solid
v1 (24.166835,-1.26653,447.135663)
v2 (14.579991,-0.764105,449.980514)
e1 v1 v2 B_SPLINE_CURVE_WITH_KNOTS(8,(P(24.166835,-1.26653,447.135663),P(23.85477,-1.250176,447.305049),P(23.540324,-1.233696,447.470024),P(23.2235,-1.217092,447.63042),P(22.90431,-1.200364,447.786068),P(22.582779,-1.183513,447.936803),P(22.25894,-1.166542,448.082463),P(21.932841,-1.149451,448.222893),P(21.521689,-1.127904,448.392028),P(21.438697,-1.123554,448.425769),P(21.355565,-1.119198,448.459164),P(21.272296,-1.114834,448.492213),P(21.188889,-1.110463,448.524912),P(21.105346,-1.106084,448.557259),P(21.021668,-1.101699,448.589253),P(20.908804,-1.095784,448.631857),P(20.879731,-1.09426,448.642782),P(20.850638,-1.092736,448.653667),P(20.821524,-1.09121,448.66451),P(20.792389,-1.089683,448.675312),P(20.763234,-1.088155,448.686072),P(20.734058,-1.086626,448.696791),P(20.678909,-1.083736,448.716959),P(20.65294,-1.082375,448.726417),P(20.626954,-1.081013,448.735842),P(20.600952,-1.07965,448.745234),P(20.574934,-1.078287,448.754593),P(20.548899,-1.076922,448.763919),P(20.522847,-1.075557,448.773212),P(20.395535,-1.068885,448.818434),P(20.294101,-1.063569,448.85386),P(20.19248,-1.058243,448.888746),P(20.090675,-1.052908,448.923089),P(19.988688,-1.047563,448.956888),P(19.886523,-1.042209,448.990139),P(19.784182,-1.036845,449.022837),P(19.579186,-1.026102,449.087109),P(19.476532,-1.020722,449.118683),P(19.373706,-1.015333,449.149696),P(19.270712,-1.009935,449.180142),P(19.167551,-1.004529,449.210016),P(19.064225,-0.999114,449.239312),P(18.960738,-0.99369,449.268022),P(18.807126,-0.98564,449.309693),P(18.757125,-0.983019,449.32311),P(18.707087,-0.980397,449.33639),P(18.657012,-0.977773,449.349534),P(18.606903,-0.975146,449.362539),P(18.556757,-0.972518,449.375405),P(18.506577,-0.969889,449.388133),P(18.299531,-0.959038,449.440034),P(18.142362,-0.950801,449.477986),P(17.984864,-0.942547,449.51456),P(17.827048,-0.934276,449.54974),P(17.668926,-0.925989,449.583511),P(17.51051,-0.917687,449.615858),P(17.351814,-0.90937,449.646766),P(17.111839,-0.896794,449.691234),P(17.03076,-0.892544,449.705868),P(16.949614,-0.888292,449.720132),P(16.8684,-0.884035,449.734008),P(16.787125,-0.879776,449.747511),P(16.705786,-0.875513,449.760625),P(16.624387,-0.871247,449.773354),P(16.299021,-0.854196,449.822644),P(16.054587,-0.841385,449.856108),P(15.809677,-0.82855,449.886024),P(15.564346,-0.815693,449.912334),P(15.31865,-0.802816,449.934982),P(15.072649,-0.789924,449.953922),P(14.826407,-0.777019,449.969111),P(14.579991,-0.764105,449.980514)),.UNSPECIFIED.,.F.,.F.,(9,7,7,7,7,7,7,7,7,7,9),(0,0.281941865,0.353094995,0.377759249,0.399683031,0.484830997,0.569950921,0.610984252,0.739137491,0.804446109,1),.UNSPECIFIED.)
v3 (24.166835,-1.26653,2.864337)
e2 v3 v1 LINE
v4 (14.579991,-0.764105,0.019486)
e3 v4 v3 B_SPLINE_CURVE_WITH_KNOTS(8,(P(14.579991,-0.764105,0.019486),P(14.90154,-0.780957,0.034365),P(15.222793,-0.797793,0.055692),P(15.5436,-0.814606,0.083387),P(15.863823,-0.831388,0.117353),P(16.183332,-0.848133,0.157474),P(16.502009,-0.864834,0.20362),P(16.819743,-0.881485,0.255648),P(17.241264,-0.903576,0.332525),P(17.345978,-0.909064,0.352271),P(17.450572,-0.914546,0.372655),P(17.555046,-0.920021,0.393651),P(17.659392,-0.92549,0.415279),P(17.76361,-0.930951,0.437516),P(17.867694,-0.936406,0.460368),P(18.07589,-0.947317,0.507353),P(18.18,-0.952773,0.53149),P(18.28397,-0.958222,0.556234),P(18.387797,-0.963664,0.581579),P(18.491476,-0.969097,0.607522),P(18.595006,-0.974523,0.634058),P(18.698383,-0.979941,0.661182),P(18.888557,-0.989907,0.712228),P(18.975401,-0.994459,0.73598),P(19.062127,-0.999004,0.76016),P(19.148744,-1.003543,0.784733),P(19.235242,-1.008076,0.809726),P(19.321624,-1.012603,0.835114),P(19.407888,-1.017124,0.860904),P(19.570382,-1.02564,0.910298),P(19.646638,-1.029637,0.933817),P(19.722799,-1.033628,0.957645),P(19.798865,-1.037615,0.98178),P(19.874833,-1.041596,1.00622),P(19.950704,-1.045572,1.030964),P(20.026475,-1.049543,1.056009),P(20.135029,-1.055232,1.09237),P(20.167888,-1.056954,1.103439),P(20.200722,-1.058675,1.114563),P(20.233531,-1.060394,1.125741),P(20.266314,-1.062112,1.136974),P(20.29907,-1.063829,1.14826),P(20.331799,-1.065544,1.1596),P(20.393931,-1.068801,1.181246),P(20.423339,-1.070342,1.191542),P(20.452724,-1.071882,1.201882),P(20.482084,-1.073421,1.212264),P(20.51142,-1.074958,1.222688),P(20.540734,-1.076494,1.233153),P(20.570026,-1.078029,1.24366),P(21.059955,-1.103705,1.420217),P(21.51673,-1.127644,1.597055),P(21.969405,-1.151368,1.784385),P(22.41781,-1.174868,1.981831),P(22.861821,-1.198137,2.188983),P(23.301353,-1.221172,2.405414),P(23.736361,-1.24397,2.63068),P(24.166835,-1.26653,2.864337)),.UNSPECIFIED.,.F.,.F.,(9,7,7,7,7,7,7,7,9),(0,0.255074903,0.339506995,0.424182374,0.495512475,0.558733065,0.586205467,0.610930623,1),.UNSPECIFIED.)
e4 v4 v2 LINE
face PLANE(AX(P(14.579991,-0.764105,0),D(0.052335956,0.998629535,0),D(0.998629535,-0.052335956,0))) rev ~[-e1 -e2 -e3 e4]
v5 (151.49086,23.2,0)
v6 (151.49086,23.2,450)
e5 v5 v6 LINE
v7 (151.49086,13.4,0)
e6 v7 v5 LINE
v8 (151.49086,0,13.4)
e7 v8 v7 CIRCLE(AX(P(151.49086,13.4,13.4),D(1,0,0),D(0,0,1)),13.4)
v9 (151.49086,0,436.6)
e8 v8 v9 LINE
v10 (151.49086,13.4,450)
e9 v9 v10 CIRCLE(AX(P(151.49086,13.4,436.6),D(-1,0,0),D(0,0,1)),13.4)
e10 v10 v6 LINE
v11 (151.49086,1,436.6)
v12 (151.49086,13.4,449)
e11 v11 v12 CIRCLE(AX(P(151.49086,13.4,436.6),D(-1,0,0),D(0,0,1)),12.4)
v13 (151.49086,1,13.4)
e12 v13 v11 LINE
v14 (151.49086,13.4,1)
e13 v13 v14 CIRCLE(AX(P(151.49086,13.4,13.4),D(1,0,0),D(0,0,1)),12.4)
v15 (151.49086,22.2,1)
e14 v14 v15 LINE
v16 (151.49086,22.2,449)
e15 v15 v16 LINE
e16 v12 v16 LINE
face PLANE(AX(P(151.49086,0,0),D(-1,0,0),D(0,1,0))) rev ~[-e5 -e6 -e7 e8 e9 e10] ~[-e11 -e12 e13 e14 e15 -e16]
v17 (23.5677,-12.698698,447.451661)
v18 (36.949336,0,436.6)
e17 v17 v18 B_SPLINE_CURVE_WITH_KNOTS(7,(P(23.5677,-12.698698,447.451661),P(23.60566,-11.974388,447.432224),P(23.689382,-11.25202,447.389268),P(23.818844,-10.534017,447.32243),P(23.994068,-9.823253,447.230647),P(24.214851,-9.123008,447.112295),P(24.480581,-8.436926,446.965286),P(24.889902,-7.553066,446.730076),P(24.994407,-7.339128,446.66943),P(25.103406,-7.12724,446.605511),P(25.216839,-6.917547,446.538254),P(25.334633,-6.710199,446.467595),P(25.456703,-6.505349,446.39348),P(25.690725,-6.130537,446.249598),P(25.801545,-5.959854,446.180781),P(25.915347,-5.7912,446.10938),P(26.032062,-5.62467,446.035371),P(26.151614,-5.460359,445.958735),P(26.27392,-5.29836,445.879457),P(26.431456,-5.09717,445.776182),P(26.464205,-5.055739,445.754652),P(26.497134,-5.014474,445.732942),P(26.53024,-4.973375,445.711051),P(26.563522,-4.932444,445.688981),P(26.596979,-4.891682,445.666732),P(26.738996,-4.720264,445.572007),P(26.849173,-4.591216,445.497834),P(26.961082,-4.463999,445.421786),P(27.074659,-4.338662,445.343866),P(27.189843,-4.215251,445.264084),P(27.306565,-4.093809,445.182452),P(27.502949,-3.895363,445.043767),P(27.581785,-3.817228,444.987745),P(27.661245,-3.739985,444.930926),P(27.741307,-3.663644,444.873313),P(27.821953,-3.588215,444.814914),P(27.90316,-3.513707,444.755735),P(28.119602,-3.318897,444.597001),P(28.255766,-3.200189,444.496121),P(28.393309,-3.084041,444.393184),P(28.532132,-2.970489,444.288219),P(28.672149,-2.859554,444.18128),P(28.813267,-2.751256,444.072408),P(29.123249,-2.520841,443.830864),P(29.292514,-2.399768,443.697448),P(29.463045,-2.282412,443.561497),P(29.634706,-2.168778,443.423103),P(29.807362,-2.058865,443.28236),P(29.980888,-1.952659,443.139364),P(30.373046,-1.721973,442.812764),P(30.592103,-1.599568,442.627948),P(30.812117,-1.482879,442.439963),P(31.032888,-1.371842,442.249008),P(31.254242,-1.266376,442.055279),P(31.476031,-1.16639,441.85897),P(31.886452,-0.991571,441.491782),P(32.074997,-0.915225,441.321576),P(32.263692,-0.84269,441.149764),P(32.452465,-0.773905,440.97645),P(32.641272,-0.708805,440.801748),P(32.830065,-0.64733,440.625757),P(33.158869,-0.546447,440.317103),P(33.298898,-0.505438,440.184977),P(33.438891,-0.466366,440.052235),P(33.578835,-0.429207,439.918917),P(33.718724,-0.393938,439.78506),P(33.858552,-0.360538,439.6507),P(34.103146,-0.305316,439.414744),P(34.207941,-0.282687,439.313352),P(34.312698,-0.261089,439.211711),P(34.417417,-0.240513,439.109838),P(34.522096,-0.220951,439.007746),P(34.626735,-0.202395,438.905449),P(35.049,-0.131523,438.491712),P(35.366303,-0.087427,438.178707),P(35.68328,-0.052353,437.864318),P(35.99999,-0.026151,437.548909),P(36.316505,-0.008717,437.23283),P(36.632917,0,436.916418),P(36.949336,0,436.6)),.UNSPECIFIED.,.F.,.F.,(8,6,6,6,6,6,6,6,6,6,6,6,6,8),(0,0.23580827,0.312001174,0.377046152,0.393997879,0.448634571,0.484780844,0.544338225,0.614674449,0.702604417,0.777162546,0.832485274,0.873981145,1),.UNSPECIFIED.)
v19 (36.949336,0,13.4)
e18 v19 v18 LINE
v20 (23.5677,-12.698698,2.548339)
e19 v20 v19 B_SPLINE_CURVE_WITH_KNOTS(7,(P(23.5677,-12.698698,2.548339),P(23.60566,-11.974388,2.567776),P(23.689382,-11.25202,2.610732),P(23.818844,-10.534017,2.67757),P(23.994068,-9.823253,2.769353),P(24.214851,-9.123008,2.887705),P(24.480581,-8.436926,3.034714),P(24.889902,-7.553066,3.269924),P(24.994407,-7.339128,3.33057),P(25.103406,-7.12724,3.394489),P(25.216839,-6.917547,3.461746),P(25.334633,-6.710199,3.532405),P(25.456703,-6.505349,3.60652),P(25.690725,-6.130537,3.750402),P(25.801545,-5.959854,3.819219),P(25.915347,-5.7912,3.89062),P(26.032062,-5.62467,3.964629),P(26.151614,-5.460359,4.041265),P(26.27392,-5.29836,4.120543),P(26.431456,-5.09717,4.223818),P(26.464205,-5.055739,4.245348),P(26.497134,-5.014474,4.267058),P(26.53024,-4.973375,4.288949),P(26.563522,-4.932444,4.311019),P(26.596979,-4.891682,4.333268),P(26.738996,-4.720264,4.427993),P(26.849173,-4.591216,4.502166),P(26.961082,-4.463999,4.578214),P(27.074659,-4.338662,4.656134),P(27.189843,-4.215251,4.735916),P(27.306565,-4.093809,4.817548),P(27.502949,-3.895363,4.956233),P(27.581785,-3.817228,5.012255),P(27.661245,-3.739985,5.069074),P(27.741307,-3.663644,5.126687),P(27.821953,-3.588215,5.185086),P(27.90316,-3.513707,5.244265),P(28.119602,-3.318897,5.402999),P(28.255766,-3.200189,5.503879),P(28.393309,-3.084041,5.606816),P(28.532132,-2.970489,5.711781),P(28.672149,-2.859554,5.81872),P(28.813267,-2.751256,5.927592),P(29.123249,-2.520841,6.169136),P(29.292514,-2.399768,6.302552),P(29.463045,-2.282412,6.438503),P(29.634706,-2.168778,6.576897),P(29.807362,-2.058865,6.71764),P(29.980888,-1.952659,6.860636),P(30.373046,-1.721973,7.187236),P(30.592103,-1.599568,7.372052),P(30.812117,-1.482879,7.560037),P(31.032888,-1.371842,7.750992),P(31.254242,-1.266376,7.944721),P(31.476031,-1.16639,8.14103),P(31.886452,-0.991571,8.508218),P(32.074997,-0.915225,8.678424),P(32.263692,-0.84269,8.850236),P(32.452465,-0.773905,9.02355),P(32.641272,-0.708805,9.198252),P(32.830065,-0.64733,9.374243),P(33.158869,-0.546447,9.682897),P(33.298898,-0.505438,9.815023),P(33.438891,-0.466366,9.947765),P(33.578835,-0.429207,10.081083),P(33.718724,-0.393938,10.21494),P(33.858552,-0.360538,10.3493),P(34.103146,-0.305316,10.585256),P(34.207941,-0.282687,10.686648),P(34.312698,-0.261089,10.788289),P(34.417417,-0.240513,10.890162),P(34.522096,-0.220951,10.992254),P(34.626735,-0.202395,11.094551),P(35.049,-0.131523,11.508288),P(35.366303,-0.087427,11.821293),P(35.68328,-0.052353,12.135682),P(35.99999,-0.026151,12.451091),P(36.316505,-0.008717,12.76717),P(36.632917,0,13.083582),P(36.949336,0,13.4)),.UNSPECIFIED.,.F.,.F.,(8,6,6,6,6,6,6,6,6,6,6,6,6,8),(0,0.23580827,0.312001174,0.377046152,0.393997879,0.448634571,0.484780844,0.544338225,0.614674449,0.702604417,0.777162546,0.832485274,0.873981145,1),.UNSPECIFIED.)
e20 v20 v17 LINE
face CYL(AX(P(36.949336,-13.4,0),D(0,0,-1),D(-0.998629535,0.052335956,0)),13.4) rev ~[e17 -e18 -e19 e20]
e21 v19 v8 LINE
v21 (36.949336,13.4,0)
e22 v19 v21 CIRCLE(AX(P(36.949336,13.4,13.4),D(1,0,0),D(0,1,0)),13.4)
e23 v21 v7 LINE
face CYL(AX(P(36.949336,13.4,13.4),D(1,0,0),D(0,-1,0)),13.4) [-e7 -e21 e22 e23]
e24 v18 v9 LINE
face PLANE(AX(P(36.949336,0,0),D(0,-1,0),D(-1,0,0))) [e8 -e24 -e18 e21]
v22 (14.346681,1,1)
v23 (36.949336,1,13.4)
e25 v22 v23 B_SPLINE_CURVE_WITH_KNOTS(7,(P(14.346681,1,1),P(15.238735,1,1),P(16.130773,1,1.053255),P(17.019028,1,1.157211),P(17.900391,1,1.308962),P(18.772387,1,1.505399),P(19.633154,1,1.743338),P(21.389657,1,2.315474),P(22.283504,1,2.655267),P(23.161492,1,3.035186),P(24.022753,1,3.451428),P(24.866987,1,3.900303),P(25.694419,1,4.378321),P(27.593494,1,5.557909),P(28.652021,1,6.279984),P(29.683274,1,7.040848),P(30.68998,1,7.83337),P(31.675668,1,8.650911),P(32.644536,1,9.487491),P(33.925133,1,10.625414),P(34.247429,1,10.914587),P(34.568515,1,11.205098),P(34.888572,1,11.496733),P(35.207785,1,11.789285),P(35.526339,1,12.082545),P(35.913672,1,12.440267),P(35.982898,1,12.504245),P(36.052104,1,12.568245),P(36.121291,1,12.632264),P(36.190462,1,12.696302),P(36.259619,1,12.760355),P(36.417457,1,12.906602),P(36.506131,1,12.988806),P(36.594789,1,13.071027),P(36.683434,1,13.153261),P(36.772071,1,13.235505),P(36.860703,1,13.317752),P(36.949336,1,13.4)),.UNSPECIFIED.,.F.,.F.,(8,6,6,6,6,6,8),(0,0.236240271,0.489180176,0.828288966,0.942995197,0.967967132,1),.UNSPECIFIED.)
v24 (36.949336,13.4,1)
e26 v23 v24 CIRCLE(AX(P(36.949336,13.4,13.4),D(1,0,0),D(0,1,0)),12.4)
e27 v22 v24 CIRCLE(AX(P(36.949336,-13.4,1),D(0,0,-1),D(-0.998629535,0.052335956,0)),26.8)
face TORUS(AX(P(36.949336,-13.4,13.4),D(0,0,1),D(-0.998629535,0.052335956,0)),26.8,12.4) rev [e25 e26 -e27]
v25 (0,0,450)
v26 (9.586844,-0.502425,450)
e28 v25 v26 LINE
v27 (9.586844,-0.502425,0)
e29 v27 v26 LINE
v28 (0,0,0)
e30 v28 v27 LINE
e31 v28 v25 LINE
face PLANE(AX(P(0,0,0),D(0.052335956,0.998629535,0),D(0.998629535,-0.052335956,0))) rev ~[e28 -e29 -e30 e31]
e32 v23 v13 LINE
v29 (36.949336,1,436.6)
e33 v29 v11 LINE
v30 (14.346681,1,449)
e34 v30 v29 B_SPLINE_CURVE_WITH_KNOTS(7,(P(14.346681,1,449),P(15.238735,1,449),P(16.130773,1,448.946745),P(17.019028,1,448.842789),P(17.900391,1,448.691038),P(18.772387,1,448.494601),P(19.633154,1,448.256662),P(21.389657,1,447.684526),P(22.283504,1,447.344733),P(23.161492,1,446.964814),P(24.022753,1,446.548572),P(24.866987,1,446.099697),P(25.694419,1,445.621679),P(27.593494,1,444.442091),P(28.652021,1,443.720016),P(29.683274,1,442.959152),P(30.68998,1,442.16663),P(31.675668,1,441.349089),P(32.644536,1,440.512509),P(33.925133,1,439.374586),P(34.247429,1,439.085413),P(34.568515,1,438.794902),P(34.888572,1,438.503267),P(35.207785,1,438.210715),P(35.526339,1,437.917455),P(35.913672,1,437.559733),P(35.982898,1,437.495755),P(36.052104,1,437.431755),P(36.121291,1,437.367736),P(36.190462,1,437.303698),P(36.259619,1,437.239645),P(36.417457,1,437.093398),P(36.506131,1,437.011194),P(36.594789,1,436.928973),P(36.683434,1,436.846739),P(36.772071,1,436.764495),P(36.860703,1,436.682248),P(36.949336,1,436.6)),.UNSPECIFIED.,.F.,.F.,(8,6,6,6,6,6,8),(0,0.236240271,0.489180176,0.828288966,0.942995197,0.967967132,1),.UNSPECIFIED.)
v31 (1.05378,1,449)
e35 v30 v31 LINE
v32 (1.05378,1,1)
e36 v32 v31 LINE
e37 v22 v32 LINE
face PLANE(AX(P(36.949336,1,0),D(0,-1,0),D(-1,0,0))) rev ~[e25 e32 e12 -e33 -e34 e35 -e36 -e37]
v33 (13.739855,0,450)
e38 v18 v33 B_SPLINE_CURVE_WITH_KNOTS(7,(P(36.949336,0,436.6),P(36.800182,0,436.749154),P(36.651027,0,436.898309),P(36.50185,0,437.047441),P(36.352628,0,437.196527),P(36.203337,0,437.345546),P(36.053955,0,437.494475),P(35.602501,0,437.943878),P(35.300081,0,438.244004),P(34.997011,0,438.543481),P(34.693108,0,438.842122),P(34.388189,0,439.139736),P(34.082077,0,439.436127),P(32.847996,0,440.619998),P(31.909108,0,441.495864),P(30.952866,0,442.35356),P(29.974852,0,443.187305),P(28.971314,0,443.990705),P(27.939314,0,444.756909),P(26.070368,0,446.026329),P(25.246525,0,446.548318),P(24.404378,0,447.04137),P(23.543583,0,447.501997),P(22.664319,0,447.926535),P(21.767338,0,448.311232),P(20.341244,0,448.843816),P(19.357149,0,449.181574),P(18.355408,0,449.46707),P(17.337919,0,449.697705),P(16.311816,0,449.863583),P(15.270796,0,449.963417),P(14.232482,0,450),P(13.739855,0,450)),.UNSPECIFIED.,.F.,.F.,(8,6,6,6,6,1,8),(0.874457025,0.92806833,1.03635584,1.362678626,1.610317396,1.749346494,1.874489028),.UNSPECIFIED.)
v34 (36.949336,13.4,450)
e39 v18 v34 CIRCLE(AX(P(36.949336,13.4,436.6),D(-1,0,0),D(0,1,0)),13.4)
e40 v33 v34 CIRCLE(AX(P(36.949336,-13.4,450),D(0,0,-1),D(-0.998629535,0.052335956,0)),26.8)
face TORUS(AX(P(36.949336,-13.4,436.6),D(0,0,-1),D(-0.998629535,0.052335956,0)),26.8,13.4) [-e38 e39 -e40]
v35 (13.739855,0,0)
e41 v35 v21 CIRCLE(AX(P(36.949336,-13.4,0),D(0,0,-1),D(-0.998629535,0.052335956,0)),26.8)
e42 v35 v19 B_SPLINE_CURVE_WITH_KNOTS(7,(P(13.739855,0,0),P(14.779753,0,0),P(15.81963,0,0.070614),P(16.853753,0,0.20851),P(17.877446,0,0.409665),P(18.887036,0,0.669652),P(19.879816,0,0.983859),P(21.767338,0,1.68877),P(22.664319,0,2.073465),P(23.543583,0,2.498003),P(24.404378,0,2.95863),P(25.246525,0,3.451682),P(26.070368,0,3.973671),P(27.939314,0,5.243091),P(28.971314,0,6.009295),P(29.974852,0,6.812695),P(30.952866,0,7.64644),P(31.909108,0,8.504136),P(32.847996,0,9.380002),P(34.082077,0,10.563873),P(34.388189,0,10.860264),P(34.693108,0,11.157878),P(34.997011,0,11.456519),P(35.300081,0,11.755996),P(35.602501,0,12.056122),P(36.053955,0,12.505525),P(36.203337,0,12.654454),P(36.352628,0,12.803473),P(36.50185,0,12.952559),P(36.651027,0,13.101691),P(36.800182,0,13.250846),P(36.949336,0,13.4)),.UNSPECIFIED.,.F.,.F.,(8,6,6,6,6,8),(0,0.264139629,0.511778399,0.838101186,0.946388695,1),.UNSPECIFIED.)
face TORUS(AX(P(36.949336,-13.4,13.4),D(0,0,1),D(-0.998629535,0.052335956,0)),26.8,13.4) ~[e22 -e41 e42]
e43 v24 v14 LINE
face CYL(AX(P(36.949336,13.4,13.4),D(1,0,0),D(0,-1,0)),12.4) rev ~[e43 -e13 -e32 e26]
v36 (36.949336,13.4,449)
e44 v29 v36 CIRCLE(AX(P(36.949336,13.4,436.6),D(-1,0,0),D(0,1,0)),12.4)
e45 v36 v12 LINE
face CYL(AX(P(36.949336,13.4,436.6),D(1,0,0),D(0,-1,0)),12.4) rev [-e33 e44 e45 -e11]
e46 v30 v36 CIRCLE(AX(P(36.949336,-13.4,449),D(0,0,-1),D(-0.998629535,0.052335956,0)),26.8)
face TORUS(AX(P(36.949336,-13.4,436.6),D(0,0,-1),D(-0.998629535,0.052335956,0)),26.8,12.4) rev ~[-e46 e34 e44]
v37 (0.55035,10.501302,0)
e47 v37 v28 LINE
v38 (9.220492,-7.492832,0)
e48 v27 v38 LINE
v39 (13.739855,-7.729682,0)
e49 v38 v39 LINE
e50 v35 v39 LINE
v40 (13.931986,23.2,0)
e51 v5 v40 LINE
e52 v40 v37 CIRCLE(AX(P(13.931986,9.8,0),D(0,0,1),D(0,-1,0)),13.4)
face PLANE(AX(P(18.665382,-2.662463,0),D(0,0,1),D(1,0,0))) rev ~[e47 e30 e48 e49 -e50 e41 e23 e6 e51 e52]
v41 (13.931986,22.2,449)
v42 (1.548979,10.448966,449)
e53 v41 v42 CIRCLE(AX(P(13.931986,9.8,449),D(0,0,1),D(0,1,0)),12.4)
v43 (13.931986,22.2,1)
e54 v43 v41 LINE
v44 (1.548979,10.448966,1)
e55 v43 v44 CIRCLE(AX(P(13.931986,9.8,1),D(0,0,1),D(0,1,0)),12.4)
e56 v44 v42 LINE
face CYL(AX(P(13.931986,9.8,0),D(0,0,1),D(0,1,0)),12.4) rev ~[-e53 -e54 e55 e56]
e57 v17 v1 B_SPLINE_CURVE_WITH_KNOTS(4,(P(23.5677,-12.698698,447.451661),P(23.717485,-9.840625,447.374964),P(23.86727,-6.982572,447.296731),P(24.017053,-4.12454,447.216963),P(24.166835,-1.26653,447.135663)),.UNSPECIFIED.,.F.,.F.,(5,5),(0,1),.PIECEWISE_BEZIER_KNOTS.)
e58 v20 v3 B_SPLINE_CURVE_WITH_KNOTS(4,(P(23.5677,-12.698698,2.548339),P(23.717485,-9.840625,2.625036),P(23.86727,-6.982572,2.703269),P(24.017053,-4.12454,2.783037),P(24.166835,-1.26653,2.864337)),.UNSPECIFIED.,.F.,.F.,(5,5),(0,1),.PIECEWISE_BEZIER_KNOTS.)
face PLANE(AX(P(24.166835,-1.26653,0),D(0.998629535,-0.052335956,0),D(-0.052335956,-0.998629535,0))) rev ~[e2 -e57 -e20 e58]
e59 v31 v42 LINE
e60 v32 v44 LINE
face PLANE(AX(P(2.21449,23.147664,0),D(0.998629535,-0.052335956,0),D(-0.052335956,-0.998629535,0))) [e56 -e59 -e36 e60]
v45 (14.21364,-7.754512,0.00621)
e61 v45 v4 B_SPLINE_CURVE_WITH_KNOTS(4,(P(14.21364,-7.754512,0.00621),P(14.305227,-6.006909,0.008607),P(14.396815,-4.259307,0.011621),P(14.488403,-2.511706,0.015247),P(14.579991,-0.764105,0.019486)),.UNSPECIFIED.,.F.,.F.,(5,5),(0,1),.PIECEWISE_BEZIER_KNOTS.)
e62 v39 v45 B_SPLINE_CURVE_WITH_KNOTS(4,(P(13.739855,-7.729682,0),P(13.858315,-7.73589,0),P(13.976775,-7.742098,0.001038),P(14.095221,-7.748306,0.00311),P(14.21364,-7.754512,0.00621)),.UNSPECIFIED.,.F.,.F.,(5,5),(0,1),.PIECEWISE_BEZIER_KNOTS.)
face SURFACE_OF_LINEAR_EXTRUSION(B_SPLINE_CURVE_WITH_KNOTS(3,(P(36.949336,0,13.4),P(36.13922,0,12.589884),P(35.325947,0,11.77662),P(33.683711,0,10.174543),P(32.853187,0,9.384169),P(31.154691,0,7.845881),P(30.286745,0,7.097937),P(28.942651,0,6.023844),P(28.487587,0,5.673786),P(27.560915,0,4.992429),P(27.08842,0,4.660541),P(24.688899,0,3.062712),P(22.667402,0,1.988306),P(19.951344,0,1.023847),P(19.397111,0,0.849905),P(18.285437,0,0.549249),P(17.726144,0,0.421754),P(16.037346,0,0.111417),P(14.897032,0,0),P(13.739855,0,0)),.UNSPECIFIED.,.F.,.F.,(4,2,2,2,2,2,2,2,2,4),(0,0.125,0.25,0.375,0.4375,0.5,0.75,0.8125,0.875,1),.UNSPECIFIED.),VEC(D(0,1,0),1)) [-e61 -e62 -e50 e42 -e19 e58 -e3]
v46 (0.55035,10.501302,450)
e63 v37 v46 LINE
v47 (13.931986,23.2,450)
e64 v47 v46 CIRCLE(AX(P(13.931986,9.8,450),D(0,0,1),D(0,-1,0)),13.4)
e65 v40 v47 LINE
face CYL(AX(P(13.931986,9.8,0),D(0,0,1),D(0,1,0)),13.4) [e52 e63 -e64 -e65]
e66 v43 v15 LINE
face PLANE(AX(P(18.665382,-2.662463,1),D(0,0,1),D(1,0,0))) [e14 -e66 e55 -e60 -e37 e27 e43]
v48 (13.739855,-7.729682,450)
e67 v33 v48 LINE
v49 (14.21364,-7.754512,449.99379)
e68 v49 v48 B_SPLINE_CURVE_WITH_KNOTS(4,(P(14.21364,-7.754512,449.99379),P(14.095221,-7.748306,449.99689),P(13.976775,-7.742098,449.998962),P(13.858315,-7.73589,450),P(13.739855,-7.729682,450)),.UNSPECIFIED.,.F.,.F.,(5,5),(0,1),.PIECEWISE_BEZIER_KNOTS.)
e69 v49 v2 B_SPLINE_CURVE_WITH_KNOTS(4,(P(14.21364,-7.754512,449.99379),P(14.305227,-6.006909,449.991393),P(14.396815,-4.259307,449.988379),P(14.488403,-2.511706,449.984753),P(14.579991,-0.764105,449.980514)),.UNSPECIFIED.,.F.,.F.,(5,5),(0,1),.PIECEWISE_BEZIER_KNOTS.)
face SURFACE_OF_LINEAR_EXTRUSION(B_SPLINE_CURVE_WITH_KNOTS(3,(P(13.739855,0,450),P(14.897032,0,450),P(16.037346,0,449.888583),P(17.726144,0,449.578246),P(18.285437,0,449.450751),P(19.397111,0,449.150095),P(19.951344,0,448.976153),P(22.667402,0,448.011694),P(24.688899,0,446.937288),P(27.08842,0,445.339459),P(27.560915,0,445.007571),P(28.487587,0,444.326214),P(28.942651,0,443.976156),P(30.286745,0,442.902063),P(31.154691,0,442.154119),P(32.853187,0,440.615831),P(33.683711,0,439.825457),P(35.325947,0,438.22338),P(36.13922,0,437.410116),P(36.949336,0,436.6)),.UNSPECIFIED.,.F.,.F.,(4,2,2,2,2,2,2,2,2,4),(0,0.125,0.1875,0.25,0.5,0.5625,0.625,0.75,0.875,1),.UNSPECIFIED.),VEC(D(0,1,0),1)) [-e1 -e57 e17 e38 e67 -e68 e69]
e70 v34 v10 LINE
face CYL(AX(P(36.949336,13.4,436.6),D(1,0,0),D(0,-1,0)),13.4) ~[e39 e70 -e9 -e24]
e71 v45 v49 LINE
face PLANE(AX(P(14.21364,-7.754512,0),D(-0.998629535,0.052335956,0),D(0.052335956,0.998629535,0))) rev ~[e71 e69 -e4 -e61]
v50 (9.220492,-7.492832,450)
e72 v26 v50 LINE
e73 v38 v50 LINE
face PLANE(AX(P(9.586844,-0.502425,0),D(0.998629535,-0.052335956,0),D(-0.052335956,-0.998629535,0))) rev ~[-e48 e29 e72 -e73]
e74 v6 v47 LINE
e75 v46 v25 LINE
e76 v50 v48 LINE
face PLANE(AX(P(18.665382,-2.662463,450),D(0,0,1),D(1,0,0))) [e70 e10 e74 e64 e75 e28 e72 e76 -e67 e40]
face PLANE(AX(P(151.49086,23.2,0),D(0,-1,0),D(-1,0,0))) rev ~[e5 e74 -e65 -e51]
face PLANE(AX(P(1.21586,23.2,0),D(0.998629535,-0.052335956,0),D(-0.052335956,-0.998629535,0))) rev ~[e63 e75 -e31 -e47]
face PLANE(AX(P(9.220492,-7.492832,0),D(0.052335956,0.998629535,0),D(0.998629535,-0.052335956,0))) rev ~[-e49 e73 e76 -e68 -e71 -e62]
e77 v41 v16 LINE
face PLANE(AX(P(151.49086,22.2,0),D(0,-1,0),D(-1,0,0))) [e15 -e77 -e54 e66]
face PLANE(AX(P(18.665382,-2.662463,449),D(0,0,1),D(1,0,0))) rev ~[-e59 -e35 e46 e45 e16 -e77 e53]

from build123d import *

# Parameters (mm, degrees)
BOSS_EXTRUDE1_DEPTH = 450
FILLET1_R           = 13.4
BOSS_EXTRUDE2_DEPTH = 450
FILLET2_R           = 13.4
CUT_EXTRUDE1_DEPTH  = 451.0000001
SHELL1_T            = -1
BOSS_EXTRUDE3_DEPTH = 450
CUT_EXTRUDE2_DEPTH  = 13.698698186


with BuildPart() as part:
    # Sketch2 → Boss-Extrude1 (new body)
    with BuildSketch(Plane.XY):
        Polygon((0, 0), (151.490860479, 0), (151.490860479, 23.2), (1.215860479, 23.2), align=None)
    extrude(amount=BOSS_EXTRUDE1_DEPTH)

    # Fillet1
    fillet1_edges = [part.edges().sort_by_distance(p)[0] for p in [
        (1.215860479, 23.2, 225),
    ]]
    fillet(fillet1_edges, radius=FILLET1_R)

    # Sketch4 → Boss-Extrude2 (add, through all)
    with BuildSketch(Plane.XY.offset(450)):
        with BuildLine():
            Line((24.166834741, -1.266530141), (23.567700201, -12.698698186))
            ThreePointArc((23.567700201, -12.698698186), (27.725384653, -3.679983428), (36.949335967, 0))
            Line((36.949335967, 0), (0, 0))
            Line((0, 0), (9.586843534, -0.50242518))
            Line((9.586843534, -0.50242518), (9.22049184, -7.492831923))
            Line((9.22049184, -7.492831923), (14.213639514, -7.754511704))
            Line((14.213639514, -7.754511704), (14.579991207, -0.764104961))
            Line((14.579991207, -0.764104961), (24.166834741, -1.266530141))
        make_face()
    extrude(amount=-BOSS_EXTRUDE2_DEPTH)

    # Fillet2
    fillet2_edges = [part.edges().sort_by_distance(p)[0] for p in [
        (27.725384653, -3.679983428, 0),
        (27.725384653, -3.679983428, 450),
        (94.220098223, 0, 450),
        (94.220098223, 0, 0),
    ]]
    fillet(fillet2_edges, radius=FILLET2_R)

    # Sketch5 → Cut-Extrude1 (cut, through all)
    with BuildSketch(Plane.XY):
        with BuildLine():
            Line((24.166834741, -1.266530141), (23.567700201, -12.698698186))
            ThreePointArc((23.567700201, -12.698698186), (27.725384653, -3.679983428), (36.949335967, 0))
            Line((36.949335967, 0), (0, 0))
            Line((0, 0), (9.586843534, -0.50242518))
            Line((9.586843534, -0.50242518), (9.22049184, -7.492831923))
            Line((9.22049184, -7.492831923), (14.213639514, -7.754511704))
            Line((14.213639514, -7.754511704), (14.579991207, -0.764104961))
            Line((14.579991207, -0.764104961), (24.166834741, -1.266530141))
        make_face()
    extrude(amount=CUT_EXTRUDE1_DEPTH, mode=Mode.SUBTRACT)

    # Shell1
    shell1_openings = [part.faces().sort_by_distance(p)[0] for p in [
        (151.490860479, 11.274923044, 225),
    ]]
    offset(amount=SHELL1_T, openings=shell1_openings)

    # Sketch6 → Boss-Extrude3 (add)
    with BuildSketch(Plane.XY):
        with BuildLine():
            Line((24.166834741, -1.266530141), (23.567700201, -12.698698186))
            ThreePointArc((23.567700201, -12.698698186), (27.725384653, -3.679983428), (36.949335967, 0))
            Line((36.949335967, 0), (0, 0))
            Line((0, 0), (9.586843534, -0.50242518))
            Line((9.586843534, -0.50242518), (9.22049184, -7.492831923))
            Line((9.22049184, -7.492831923), (14.213639514, -7.754511704))
            Line((14.213639514, -7.754511704), (14.579991207, -0.764104961))
            Line((14.579991207, -0.764104961), (24.166834741, -1.266530141))
        make_face()
    extrude(amount=BOSS_EXTRUDE3_DEPTH)

    # Sketch7 → Cut-Extrude2 (cut, through all)
    with BuildSketch(Plane.XZ):
        with BuildLine():
            Line((13.739855146, 450), (36.949335967, 450))
            Line((36.949335967, 450), (36.949335967, 436.6))
            add(Edge.make_bspline(
                [(13.739855146, 450), (14.897031698, 450), (16.037346218, 449.888583323), (17.726143963, 449.5782461), (18.285436938, 449.450751492), (19.397111441, 449.150094553), (19.951343846, 448.976153087), (22.667401959, 448.011694289), (24.688899416, 446.937288096), (27.088419743, 445.339458648), (27.560915156, 445.007570641), (28.487586558, 444.326213533), (28.942650844, 443.976156414), (30.286745236, 442.902062513), (31.15469064, 442.154118787), (32.853186658, 440.615831161), (33.683710559, 439.825456971), (35.32594722, 438.223379533), (36.139219776, 437.410115889), (36.949335967, 436.6)],
                knots=[0, 0, 0, 0, 0.125, 0.125, 0.1875, 0.1875, 0.25, 0.25, 0.5, 0.5, 0.5625, 0.5625, 0.625, 0.625, 0.75, 0.75, 0.875, 0.875, 1, 1, 1, 1], degree=3))
        make_face()
        with BuildLine():
            Line((36.949335967, 13.4), (36.949335967, 0))
            Line((36.949335967, 0), (13.739855146, 0))
            add(Edge.make_bspline(
                [(36.949335967, 13.4), (36.139219776, 12.589884111), (35.32594722, 11.776620467), (33.683710559, 10.174543029), (32.853186658, 9.384168839), (31.15469064, 7.845881213), (30.286745236, 7.097937487), (28.942650844, 6.023843586), (28.487586558, 5.673786467), (27.560915156, 4.992429359), (27.088419743, 4.660541352), (24.688899416, 3.062711904), (22.667401959, 1.988305711), (19.951343846, 1.023846913), (19.397111441, 0.849905447), (18.285436938, 0.549248508), (17.726143963, 0.4217539), (16.037346218, 0.111416677), (14.897031698, 0), (13.739855146, 0)],
                knots=[0, 0, 0, 0, 0.125, 0.125, 0.25, 0.25, 0.375, 0.375, 0.4375, 0.4375, 0.5, 0.5, 0.75, 0.75, 0.8125, 0.8125, 0.875, 0.875, 1, 1, 1, 1], degree=3))
        make_face()
    extrude(amount=CUT_EXTRUDE2_DEPTH, mode=Mode.SUBTRACT)


solid = part.part
